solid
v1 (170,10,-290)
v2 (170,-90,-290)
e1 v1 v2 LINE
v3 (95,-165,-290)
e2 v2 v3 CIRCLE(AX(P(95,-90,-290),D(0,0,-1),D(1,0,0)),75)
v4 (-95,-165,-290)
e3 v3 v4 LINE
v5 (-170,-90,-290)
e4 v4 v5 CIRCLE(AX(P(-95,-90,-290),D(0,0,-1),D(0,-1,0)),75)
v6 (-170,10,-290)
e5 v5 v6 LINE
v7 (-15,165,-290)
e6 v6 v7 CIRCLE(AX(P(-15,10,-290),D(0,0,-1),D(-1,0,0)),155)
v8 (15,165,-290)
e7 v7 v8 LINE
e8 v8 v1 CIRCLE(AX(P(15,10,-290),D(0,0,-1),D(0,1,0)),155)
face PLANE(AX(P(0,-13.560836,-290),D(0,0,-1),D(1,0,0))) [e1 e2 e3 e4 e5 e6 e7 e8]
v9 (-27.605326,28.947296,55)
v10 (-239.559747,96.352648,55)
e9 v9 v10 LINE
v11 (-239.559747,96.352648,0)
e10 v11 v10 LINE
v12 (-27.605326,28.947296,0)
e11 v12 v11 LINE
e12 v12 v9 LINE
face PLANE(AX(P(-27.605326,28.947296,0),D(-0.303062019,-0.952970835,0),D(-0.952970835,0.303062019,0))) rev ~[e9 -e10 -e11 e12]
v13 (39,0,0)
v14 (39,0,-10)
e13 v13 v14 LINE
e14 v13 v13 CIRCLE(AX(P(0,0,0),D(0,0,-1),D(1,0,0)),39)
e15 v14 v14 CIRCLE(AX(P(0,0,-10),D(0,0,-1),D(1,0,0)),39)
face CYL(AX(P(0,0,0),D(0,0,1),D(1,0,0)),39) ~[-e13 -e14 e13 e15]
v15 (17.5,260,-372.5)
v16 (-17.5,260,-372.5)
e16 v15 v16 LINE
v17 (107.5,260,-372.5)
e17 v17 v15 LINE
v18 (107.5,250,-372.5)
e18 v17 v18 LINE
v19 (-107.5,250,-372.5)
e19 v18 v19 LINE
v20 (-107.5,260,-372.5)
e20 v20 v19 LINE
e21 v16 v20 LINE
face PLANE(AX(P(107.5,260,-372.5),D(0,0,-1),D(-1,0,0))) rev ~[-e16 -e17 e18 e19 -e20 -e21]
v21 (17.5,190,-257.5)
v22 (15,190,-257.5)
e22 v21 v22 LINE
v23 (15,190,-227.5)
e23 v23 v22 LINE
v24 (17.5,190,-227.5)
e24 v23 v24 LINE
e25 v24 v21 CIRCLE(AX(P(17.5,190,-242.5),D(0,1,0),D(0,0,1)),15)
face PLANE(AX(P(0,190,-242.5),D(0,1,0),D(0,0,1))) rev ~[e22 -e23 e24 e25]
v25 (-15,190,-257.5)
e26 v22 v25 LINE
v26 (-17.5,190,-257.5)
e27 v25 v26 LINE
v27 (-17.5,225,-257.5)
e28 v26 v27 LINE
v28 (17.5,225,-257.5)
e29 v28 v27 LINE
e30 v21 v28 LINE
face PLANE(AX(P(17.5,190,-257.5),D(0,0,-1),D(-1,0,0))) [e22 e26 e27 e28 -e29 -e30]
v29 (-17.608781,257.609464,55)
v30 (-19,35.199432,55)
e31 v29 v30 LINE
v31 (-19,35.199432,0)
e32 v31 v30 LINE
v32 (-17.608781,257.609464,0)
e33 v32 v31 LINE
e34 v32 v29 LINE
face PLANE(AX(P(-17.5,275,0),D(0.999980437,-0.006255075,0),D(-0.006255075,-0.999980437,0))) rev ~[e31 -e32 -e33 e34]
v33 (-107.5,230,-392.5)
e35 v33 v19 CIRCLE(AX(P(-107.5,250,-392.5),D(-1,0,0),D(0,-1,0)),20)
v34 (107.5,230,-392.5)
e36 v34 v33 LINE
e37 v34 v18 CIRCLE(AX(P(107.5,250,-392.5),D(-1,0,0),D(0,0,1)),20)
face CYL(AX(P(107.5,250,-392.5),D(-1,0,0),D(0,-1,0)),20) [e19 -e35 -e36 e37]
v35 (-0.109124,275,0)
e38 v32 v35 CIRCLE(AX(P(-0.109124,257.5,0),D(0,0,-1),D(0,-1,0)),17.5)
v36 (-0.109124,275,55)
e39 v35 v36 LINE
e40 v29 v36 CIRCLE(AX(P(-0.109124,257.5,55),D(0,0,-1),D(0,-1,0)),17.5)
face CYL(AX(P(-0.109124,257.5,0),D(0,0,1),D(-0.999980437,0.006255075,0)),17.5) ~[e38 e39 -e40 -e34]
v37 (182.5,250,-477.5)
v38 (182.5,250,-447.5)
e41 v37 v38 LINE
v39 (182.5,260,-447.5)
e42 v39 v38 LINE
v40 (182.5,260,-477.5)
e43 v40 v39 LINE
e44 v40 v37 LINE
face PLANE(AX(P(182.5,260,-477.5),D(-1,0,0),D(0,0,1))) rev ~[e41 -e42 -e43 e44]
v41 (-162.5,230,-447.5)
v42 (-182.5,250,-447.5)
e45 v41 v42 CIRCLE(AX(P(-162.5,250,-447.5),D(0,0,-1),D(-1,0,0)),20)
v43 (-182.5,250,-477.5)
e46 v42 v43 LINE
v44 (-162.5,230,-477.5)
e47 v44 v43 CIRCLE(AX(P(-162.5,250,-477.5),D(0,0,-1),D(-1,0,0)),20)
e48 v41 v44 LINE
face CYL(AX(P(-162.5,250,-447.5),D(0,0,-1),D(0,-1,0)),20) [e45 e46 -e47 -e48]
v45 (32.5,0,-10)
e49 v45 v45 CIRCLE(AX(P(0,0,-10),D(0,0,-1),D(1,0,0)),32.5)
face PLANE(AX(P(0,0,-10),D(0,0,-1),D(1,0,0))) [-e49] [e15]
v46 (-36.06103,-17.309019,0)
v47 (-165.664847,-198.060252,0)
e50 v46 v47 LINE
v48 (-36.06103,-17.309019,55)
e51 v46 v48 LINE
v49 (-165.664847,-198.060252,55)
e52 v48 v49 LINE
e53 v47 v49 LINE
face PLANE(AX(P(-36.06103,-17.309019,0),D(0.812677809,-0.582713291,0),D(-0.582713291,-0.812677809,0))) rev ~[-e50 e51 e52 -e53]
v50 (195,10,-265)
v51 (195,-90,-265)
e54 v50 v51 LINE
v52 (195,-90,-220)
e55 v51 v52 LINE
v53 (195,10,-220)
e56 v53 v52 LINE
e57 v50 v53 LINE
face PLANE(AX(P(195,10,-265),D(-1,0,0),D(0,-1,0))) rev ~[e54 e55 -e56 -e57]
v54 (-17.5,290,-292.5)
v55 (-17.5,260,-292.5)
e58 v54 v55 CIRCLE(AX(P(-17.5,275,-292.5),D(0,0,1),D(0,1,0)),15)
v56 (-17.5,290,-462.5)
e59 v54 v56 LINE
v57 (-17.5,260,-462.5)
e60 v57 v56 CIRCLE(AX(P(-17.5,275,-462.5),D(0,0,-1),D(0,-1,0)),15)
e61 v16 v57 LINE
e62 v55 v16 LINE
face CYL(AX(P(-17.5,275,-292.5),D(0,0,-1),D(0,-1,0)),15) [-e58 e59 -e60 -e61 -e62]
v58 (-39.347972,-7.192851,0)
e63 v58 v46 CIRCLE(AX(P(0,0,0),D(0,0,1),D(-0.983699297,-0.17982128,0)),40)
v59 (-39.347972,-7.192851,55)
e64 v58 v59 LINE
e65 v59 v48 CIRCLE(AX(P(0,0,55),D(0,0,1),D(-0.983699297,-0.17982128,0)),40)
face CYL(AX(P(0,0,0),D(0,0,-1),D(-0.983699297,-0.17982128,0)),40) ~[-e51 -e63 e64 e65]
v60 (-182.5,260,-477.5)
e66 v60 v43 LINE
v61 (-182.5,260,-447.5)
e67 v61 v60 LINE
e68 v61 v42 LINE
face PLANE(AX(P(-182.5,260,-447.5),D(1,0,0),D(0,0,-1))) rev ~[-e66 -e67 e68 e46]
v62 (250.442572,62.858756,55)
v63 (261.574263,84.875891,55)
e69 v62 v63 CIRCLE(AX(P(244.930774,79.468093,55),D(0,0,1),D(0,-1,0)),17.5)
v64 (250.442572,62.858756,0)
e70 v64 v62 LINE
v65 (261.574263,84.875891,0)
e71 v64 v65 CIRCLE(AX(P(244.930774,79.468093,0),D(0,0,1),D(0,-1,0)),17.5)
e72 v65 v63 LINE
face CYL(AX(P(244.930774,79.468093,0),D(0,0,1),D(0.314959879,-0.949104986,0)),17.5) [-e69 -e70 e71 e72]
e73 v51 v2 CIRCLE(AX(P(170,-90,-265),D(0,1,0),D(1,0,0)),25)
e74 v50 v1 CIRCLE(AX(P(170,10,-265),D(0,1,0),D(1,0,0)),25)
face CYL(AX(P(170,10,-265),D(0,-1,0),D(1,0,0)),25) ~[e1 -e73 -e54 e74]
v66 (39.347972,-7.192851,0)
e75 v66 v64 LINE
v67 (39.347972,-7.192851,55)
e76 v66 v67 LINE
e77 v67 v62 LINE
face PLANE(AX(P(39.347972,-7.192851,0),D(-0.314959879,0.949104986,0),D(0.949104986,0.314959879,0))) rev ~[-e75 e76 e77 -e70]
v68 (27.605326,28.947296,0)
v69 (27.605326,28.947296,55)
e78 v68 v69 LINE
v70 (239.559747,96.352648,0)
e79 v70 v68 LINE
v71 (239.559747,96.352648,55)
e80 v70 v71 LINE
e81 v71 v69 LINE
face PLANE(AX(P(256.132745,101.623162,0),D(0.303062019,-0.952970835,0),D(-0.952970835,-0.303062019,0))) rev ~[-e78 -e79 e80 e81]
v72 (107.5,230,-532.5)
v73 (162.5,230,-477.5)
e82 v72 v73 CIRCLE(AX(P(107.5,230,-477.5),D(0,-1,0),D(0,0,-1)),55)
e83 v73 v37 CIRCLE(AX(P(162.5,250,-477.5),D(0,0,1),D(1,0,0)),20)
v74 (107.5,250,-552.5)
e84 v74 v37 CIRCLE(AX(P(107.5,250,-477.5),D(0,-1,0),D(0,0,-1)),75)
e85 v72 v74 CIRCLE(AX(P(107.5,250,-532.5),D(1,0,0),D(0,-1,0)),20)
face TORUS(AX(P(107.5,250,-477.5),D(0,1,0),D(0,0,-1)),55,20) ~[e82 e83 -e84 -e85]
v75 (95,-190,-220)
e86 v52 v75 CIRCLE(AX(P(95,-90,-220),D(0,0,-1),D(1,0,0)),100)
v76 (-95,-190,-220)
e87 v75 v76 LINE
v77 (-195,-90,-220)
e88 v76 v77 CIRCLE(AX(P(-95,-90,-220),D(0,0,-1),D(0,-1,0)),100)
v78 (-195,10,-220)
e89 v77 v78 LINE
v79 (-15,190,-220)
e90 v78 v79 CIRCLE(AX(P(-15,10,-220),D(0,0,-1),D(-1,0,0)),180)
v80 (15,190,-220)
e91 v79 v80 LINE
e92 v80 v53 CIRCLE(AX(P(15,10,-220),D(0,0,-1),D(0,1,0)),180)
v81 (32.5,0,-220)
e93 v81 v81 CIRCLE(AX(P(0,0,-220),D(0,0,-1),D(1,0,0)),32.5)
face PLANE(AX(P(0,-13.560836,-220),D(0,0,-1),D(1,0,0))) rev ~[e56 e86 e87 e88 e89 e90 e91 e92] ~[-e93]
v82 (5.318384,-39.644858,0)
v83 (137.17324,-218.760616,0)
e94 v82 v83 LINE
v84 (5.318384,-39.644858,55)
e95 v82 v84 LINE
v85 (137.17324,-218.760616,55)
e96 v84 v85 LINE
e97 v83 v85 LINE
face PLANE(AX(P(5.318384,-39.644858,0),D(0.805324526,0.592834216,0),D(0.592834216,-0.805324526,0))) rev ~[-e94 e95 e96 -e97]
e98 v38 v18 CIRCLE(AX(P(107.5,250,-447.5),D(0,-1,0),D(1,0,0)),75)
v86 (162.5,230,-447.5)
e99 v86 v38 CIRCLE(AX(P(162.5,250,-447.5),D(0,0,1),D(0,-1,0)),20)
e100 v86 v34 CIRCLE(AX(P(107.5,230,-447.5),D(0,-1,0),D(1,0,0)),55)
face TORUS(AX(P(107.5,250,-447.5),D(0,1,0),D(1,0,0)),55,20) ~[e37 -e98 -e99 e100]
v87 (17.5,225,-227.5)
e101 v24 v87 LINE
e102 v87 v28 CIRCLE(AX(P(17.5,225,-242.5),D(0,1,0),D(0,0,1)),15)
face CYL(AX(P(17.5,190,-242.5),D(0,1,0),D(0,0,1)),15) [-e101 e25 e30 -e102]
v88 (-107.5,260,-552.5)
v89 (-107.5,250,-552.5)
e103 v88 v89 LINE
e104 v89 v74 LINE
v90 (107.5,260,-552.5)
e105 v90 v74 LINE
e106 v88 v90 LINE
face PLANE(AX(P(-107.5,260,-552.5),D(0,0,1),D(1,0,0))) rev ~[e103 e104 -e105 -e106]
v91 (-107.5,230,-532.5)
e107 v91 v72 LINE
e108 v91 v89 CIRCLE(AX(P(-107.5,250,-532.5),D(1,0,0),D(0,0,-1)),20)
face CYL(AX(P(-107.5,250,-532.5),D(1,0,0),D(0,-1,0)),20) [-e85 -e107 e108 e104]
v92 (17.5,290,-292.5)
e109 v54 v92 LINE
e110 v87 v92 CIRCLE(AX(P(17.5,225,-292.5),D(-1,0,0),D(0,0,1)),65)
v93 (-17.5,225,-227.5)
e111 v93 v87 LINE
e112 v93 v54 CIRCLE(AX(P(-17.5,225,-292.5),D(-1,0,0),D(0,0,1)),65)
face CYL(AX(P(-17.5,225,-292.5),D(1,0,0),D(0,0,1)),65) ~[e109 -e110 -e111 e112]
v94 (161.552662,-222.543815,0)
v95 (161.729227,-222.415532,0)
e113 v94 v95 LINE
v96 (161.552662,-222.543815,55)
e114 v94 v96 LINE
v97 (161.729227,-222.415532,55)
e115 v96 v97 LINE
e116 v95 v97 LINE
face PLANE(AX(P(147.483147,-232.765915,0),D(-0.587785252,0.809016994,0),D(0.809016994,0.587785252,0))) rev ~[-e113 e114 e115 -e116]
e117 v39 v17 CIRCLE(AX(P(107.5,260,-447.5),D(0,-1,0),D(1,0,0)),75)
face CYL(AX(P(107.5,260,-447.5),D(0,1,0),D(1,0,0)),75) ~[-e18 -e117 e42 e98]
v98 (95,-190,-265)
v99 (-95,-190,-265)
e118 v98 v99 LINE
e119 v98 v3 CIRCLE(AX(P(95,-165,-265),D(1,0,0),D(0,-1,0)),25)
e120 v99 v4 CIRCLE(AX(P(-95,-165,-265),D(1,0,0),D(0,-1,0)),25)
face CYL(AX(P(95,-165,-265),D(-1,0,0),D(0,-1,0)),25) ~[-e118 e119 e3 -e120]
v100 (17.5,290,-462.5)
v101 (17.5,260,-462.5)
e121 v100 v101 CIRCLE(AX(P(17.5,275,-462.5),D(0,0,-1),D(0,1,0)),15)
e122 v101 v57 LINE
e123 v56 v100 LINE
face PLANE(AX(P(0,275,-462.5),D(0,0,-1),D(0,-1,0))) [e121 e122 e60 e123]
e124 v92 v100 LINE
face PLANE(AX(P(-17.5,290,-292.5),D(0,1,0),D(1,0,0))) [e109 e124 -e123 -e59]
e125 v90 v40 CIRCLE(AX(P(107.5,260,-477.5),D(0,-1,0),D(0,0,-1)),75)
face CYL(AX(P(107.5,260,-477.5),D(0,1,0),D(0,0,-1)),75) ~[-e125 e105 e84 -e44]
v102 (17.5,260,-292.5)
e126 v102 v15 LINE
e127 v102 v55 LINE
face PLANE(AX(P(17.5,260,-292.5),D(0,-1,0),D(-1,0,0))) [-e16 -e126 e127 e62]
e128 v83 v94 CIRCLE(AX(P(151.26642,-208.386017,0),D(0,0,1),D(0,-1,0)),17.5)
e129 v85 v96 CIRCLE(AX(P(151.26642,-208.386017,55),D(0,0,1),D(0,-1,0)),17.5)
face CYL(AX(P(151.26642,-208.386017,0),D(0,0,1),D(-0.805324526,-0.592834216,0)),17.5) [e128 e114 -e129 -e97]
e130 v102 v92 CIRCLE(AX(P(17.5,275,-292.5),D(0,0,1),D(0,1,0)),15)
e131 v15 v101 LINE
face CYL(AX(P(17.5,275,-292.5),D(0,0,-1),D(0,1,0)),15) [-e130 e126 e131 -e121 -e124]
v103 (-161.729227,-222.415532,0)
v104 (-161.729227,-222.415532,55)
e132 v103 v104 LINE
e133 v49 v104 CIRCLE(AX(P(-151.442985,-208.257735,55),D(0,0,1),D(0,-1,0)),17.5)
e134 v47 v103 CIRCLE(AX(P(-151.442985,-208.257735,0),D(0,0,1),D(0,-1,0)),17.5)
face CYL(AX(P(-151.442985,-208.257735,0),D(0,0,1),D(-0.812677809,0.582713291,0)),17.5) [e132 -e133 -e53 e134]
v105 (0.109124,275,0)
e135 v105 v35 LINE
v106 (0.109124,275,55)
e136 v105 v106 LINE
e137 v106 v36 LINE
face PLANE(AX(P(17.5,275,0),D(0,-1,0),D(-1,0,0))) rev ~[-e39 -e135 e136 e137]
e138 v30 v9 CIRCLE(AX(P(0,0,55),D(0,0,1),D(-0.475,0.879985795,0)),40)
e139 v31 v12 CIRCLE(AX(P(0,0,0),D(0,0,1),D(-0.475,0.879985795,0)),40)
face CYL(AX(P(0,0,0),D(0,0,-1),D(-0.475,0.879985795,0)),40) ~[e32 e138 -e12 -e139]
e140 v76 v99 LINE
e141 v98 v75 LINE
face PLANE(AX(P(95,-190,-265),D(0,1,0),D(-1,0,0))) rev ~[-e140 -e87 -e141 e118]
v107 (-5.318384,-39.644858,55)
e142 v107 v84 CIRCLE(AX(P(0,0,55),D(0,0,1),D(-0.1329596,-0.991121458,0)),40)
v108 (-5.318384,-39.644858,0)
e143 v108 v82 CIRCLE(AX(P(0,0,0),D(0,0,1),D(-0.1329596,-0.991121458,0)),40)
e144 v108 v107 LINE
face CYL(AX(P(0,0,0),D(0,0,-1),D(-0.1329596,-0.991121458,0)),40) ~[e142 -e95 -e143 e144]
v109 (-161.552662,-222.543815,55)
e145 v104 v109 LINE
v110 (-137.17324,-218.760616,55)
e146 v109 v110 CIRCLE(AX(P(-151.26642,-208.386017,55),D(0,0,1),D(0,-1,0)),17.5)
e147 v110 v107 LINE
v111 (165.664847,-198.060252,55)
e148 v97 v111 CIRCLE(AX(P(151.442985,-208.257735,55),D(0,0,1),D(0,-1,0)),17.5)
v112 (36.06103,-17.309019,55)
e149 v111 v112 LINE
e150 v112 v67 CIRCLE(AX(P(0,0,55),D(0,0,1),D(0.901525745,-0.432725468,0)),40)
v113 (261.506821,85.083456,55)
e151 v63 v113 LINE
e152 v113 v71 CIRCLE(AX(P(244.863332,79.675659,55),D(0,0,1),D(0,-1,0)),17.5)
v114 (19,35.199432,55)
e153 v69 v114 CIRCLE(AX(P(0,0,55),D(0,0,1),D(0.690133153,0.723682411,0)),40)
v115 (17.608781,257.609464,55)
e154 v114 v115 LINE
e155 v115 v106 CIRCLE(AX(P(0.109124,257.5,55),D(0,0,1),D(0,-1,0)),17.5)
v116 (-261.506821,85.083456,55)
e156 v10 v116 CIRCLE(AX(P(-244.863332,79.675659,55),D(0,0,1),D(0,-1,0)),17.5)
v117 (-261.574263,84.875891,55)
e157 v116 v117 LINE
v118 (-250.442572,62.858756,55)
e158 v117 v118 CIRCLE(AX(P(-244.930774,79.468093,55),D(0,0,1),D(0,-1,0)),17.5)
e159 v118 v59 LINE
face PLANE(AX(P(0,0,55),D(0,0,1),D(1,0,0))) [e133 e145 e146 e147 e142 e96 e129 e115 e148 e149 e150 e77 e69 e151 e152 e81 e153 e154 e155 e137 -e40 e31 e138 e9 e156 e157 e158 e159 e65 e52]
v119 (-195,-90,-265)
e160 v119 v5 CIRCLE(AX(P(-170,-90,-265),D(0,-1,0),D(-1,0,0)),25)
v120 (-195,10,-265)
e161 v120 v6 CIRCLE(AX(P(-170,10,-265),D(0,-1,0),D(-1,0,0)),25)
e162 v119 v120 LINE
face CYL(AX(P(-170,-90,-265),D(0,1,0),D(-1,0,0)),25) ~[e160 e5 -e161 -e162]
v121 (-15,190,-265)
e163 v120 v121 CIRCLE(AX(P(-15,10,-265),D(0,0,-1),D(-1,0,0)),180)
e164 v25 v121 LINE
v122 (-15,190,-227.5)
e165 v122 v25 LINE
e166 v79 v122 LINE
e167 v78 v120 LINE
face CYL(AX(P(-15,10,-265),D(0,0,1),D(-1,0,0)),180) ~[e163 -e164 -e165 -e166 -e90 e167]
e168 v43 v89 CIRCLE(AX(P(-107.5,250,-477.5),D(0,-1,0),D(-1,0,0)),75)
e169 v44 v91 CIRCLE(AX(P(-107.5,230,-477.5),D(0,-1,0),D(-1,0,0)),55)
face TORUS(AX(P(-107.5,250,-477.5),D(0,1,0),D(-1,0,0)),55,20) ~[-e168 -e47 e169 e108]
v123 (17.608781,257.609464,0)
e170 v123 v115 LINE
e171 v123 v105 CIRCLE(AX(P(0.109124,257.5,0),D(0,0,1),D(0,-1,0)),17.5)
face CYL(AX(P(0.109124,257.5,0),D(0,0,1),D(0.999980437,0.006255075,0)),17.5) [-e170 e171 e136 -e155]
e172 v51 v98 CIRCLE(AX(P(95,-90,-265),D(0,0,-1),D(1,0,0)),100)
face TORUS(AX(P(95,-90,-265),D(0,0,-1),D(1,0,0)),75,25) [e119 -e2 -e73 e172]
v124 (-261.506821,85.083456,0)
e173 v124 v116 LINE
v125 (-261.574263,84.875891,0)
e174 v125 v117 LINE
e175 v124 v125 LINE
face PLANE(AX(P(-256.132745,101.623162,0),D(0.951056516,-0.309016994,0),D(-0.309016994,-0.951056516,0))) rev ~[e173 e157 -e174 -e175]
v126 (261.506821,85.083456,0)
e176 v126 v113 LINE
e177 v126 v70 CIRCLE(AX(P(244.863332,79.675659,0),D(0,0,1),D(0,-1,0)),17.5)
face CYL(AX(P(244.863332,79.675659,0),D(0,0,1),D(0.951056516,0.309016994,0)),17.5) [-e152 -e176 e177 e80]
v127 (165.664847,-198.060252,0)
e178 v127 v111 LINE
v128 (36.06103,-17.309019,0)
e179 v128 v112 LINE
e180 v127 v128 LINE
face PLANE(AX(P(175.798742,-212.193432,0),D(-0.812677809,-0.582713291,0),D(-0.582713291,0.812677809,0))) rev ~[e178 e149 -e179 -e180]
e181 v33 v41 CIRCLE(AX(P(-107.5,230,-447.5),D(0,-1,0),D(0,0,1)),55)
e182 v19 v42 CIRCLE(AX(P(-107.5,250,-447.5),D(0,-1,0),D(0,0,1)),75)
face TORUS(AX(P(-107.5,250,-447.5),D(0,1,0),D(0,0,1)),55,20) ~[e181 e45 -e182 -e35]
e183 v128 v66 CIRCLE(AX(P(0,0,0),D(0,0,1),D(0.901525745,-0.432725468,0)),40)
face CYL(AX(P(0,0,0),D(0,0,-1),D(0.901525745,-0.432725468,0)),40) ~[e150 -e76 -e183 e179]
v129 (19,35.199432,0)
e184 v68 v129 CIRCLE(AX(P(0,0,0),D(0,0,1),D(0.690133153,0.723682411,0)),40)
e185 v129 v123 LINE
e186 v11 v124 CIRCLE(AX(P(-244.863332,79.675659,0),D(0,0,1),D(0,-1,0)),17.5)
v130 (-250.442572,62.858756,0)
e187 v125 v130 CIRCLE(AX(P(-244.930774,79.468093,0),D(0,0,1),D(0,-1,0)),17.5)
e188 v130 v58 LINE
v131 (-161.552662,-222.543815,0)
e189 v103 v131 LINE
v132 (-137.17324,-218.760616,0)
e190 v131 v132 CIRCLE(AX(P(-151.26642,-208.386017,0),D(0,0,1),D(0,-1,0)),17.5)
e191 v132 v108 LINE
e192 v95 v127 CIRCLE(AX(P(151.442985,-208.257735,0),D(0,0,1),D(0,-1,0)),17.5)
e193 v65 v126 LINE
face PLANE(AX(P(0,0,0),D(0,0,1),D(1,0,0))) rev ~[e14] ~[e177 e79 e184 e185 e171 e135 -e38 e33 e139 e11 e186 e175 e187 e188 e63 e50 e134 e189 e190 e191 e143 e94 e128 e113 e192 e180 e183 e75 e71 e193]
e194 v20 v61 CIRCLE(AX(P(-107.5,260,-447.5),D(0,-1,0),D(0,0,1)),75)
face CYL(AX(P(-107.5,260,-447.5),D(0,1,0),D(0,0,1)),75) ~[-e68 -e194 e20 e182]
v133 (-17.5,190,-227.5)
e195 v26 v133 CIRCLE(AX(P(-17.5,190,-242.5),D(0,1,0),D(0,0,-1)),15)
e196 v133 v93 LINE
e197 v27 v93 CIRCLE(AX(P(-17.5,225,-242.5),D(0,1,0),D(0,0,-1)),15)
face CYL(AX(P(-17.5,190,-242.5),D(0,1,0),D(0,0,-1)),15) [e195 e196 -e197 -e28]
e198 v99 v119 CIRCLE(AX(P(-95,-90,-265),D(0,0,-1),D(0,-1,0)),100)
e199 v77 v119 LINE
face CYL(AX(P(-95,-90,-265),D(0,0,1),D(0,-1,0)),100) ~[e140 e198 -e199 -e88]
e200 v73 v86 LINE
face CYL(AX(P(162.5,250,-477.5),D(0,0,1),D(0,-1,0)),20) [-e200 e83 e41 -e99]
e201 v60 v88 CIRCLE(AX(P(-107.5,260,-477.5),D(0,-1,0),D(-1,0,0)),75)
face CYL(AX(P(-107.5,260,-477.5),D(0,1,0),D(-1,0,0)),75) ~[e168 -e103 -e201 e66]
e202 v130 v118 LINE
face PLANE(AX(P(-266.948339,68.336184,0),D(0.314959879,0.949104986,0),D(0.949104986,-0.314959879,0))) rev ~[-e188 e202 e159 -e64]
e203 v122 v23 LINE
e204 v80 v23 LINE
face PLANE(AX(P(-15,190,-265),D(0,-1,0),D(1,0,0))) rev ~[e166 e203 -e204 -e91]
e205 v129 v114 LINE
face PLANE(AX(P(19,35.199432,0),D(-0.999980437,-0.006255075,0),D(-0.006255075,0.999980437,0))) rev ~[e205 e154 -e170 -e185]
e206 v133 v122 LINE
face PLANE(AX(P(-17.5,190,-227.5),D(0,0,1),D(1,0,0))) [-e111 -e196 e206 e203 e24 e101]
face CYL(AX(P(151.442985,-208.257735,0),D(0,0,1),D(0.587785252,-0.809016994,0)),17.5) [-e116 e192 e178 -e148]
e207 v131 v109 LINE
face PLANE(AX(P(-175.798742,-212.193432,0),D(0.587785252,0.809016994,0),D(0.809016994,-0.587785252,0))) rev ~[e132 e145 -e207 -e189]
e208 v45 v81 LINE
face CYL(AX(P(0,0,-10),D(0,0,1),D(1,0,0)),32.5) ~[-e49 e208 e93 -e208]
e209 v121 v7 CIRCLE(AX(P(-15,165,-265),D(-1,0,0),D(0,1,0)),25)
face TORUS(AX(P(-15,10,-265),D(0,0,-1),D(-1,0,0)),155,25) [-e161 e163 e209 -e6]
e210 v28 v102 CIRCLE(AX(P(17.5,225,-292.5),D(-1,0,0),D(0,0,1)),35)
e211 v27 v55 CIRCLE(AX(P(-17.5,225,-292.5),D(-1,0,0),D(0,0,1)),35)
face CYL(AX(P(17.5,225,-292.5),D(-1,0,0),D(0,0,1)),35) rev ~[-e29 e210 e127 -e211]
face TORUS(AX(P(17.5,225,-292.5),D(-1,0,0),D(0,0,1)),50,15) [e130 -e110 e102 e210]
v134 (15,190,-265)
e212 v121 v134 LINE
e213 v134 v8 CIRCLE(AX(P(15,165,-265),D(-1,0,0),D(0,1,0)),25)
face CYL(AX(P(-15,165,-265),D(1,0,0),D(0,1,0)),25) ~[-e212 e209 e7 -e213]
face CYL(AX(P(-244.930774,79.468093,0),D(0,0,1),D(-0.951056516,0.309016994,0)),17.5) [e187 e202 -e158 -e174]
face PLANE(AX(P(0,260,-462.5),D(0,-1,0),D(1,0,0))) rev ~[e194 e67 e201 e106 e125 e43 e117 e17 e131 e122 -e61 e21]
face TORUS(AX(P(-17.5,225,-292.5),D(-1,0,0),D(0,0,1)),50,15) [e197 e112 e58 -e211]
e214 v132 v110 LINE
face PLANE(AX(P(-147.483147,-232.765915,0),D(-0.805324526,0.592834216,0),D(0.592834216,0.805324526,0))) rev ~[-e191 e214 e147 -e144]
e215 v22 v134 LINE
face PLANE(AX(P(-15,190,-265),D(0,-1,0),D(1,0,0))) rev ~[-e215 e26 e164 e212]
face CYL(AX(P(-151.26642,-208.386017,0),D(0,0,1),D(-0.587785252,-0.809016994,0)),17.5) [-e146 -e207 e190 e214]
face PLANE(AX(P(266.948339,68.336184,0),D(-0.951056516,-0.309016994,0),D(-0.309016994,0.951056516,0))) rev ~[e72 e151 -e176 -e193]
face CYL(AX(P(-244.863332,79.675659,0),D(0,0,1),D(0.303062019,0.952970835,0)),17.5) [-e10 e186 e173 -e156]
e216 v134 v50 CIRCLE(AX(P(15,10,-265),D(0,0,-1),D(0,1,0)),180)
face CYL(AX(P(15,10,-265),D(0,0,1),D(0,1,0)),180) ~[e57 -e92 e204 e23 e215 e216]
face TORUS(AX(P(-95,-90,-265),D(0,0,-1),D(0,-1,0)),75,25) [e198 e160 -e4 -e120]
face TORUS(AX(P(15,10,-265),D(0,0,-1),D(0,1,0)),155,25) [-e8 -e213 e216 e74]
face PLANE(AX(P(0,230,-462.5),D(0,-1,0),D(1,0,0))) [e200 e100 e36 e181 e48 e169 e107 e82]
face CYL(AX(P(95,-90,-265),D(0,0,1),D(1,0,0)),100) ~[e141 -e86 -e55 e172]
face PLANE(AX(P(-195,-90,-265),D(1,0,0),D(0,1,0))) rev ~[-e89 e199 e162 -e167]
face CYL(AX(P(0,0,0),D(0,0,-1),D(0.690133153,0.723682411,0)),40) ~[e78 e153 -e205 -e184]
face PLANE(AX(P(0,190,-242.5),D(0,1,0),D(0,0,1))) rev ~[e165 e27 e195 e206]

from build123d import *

# Parameters (mm, degrees)
F1_DEPTH  = 55
F2_R      = 17.5
F3_R      = 39
F4_DEPTH  = 10
F5_R      = 32.5
F6_DEPTH  = 210
F8_DEPTH  = 45
F10_DEPTH = 25
F11_R     = 25
F16_DEPTH = 30
F17_R     = 20


with BuildPart() as f1:
    # F0 (on Top) → F1 (new body)
    with BuildSketch(Plane.XY):
        with BuildLine():
            Line((-17.5, 275), (-19, 35.1994318136))
            ThreePointArc((-19, 35.1994318136), (-23.5114100917, 32.360679775), (-27.6053261031, 28.9472964324))
            Line((-27.6053261031, 28.9472964324), (-256.1327445796, 101.6231624883))
            Line((-256.1327445796, 101.6231624883), (-266.9483393827, 68.3361844179))
            Line((-266.9483393827, 68.3361844179), (-39.3479718893, -7.1928511869))
            ThreePointArc((-39.3479718893, -7.1928511869), (-38.0422606518, -12.360679775), (-36.0610298022, -17.309018736))
            Line((-36.0610298022, -17.309018736), (-175.798741782, -212.193431538))
            Line((-175.798741782, -212.193431538), (-147.4831469789, -232.7659153682))
            Line((-147.4831469789, -232.7659153682), (-5.318384016, -39.6448583231))
            ThreePointArc((-5.318384016, -39.6448583231), (0, -40), (5.318384016, -39.6448583231))
            Line((5.318384016, -39.6448583231), (147.4831469789, -232.7659153682))
            Line((147.4831469789, -232.7659153682), (175.798741782, -212.193431538))
            Line((175.798741782, -212.193431538), (36.0610298022, -17.309018736))
            ThreePointArc((36.0610298022, -17.309018736), (38.0422606518, -12.360679775), (39.3479718893, -7.1928511869))
            Line((39.3479718893, -7.1928511869), (266.9483393827, 68.3361844179))
            Line((266.9483393827, 68.3361844179), (256.1327445796, 101.6231624883))
            Line((256.1327445796, 101.6231624883), (27.6053261031, 28.9472964324))
            ThreePointArc((27.6053261031, 28.9472964324), (23.5114100917, 32.360679775), (19, 35.1994318136))
            Line((19, 35.1994318136), (17.5, 275))
            Line((17.5, 275), (-17.5, 275))
        make_face()
    extrude(amount=F1_DEPTH)

    # F2
    f2_edges = [f1.edges().sort_by_distance(p)[0] for p in [
        (17.5, 275, 27.5),
        (256.132745, 101.623162, 27.5),
        (266.948339, 68.336184, 27.5),
        (-17.5, 275, 27.5),
        (-256.132745, 101.623162, 27.5),
        (-266.948339, 68.336184, 27.5),
        (-175.798742, -212.193432, 27.5),
        (-147.483147, -232.765915, 27.5),
        (147.483147, -232.765915, 27.5),
        (175.798742, -212.193432, 27.5),
    ]]
    fillet(f2_edges, radius=F2_R)

    # F3 (on face) → F4 (join)
    with BuildSketch(Plane(origin=(0, 0, 0), x_dir=(1, 0, 0), z_dir=(0, 0, -1))):
        Circle(F3_R)
    extrude(amount=F4_DEPTH)

    # F5 (on face) → F6 (join)
    with BuildSketch(Plane(origin=(0, 0, -10), x_dir=(1, 0, 0), z_dir=(0, 0, -1))):
        Circle(F5_R)
    extrude(amount=F6_DEPTH)

    # F7 (on face) → F8 (join)
    with BuildSketch(Plane(origin=(0, 0, -220), x_dir=(1, 0, 0), z_dir=(0, 0, -1))):
        with BuildLine():
            Line((95, 190), (-95, 190))
            ThreePointArc((-95, 190), (-165.7106781187, 160.7106781187), (-195, 90))
            Line((-195, 90), (-195, -10))
            ThreePointArc((-195, -10), (-142.2792206136, -137.2792206136), (-15, -190))
            Line((-15, -190), (15, -190))
            ThreePointArc((15, -190), (142.2792206136, -137.2792206136), (195, -10))
            Line((195, -10), (195, 90))
            ThreePointArc((195, 90), (165.7106781187, 160.7106781187), (95, 190))
        make_face()
    extrude(amount=F8_DEPTH)

    # F9 (on face) → F10 (join)
    with BuildSketch(Plane(origin=(0, 0, -265), x_dir=(1, 0, 0), z_dir=(0, 0, -1))):
        with BuildLine():
            Line((95, 190), (-95, 190))
            ThreePointArc((-95, 190), (-165.7106781187, 160.7106781187), (-195, 90))
            Line((-195, 90), (-195, -10))
            ThreePointArc((-195, -10), (-142.2792206136, -137.2792206136), (-15, -190))
            Line((-15, -190), (15, -190))
            ThreePointArc((15, -190), (142.2792206136, -137.2792206136), (195, -10))
            Line((195, -10), (195, 90))
            ThreePointArc((195, 90), (165.7106781187, 160.7106781187), (95, 190))
        make_face()
    extrude(amount=F10_DEPTH)

    # F11
    f11_edges = [f1.edges().sort_by_distance(p)[0] for p in [
        (195, -40, -290),
    ]]
    fillet(f11_edges, radius=F11_R)

    # F14: sweep along a path in F13
    with BuildLine(Plane.YZ) as f14_path:
        Line((190, -242.5), (225, -242.5))
        ThreePointArc((225, -242.5), (260.3553390593, -257.1446609407), (275, -292.5))
        Line((275, -292.5), (275, -462.5))
    # F12 (on face) → F14 (sweep)
    with BuildSketch(Plane(origin=(0, 190, 0), x_dir=(-1, 0, 0), z_dir=(0, 1, 0))):
        with BuildLine():
            Line((17.5, -227.5), (-17.5, -227.5))
            ThreePointArc((-17.5, -227.5), (-28.1066017178, -231.8933982822), (-32.5, -242.5))
            ThreePointArc((-32.5, -242.5), (-28.1066017178, -253.1066017178), (-17.5, -257.5))
            Line((-17.5, -257.5), (17.5, -257.5))
            ThreePointArc((17.5, -257.5), (28.1066017178, -253.1066017178), (32.5, -242.5))
            ThreePointArc((32.5, -242.5), (28.1066017178, -231.8933982822), (17.5, -227.5))
        make_face()
    sweep(path=f14_path.line)

    # F15 (on face) → F16 (join)
    with BuildSketch(Plane.XZ.offset(-260)):
        with BuildLine():
            Line((107.5, -372.5), (-107.5, -372.5))
            ThreePointArc((-107.5, -372.5), (-160.533008589, -394.466991411), (-182.5, -447.5))
            Line((-182.5, -447.5), (-182.5, -477.5))
            ThreePointArc((-182.5, -477.5), (-160.533008589, -530.533008589), (-107.5, -552.5))
            Line((-107.5, -552.5), (107.5, -552.5))
            ThreePointArc((107.5, -552.5), (160.533008589, -530.533008589), (182.5, -477.5))
            Line((182.5, -477.5), (182.5, -447.5))
            ThreePointArc((182.5, -447.5), (160.533008589, -394.466991411), (107.5, -372.5))
        make_face()
    extrude(amount=F16_DEPTH)

    # F17
    f17_edges = [f1.edges().sort_by_distance(p)[0] for p in [
        (-160.533009, 230, -530.533009),
    ]]
    fillet(f17_edges, radius=F17_R)


solid = f1.part
